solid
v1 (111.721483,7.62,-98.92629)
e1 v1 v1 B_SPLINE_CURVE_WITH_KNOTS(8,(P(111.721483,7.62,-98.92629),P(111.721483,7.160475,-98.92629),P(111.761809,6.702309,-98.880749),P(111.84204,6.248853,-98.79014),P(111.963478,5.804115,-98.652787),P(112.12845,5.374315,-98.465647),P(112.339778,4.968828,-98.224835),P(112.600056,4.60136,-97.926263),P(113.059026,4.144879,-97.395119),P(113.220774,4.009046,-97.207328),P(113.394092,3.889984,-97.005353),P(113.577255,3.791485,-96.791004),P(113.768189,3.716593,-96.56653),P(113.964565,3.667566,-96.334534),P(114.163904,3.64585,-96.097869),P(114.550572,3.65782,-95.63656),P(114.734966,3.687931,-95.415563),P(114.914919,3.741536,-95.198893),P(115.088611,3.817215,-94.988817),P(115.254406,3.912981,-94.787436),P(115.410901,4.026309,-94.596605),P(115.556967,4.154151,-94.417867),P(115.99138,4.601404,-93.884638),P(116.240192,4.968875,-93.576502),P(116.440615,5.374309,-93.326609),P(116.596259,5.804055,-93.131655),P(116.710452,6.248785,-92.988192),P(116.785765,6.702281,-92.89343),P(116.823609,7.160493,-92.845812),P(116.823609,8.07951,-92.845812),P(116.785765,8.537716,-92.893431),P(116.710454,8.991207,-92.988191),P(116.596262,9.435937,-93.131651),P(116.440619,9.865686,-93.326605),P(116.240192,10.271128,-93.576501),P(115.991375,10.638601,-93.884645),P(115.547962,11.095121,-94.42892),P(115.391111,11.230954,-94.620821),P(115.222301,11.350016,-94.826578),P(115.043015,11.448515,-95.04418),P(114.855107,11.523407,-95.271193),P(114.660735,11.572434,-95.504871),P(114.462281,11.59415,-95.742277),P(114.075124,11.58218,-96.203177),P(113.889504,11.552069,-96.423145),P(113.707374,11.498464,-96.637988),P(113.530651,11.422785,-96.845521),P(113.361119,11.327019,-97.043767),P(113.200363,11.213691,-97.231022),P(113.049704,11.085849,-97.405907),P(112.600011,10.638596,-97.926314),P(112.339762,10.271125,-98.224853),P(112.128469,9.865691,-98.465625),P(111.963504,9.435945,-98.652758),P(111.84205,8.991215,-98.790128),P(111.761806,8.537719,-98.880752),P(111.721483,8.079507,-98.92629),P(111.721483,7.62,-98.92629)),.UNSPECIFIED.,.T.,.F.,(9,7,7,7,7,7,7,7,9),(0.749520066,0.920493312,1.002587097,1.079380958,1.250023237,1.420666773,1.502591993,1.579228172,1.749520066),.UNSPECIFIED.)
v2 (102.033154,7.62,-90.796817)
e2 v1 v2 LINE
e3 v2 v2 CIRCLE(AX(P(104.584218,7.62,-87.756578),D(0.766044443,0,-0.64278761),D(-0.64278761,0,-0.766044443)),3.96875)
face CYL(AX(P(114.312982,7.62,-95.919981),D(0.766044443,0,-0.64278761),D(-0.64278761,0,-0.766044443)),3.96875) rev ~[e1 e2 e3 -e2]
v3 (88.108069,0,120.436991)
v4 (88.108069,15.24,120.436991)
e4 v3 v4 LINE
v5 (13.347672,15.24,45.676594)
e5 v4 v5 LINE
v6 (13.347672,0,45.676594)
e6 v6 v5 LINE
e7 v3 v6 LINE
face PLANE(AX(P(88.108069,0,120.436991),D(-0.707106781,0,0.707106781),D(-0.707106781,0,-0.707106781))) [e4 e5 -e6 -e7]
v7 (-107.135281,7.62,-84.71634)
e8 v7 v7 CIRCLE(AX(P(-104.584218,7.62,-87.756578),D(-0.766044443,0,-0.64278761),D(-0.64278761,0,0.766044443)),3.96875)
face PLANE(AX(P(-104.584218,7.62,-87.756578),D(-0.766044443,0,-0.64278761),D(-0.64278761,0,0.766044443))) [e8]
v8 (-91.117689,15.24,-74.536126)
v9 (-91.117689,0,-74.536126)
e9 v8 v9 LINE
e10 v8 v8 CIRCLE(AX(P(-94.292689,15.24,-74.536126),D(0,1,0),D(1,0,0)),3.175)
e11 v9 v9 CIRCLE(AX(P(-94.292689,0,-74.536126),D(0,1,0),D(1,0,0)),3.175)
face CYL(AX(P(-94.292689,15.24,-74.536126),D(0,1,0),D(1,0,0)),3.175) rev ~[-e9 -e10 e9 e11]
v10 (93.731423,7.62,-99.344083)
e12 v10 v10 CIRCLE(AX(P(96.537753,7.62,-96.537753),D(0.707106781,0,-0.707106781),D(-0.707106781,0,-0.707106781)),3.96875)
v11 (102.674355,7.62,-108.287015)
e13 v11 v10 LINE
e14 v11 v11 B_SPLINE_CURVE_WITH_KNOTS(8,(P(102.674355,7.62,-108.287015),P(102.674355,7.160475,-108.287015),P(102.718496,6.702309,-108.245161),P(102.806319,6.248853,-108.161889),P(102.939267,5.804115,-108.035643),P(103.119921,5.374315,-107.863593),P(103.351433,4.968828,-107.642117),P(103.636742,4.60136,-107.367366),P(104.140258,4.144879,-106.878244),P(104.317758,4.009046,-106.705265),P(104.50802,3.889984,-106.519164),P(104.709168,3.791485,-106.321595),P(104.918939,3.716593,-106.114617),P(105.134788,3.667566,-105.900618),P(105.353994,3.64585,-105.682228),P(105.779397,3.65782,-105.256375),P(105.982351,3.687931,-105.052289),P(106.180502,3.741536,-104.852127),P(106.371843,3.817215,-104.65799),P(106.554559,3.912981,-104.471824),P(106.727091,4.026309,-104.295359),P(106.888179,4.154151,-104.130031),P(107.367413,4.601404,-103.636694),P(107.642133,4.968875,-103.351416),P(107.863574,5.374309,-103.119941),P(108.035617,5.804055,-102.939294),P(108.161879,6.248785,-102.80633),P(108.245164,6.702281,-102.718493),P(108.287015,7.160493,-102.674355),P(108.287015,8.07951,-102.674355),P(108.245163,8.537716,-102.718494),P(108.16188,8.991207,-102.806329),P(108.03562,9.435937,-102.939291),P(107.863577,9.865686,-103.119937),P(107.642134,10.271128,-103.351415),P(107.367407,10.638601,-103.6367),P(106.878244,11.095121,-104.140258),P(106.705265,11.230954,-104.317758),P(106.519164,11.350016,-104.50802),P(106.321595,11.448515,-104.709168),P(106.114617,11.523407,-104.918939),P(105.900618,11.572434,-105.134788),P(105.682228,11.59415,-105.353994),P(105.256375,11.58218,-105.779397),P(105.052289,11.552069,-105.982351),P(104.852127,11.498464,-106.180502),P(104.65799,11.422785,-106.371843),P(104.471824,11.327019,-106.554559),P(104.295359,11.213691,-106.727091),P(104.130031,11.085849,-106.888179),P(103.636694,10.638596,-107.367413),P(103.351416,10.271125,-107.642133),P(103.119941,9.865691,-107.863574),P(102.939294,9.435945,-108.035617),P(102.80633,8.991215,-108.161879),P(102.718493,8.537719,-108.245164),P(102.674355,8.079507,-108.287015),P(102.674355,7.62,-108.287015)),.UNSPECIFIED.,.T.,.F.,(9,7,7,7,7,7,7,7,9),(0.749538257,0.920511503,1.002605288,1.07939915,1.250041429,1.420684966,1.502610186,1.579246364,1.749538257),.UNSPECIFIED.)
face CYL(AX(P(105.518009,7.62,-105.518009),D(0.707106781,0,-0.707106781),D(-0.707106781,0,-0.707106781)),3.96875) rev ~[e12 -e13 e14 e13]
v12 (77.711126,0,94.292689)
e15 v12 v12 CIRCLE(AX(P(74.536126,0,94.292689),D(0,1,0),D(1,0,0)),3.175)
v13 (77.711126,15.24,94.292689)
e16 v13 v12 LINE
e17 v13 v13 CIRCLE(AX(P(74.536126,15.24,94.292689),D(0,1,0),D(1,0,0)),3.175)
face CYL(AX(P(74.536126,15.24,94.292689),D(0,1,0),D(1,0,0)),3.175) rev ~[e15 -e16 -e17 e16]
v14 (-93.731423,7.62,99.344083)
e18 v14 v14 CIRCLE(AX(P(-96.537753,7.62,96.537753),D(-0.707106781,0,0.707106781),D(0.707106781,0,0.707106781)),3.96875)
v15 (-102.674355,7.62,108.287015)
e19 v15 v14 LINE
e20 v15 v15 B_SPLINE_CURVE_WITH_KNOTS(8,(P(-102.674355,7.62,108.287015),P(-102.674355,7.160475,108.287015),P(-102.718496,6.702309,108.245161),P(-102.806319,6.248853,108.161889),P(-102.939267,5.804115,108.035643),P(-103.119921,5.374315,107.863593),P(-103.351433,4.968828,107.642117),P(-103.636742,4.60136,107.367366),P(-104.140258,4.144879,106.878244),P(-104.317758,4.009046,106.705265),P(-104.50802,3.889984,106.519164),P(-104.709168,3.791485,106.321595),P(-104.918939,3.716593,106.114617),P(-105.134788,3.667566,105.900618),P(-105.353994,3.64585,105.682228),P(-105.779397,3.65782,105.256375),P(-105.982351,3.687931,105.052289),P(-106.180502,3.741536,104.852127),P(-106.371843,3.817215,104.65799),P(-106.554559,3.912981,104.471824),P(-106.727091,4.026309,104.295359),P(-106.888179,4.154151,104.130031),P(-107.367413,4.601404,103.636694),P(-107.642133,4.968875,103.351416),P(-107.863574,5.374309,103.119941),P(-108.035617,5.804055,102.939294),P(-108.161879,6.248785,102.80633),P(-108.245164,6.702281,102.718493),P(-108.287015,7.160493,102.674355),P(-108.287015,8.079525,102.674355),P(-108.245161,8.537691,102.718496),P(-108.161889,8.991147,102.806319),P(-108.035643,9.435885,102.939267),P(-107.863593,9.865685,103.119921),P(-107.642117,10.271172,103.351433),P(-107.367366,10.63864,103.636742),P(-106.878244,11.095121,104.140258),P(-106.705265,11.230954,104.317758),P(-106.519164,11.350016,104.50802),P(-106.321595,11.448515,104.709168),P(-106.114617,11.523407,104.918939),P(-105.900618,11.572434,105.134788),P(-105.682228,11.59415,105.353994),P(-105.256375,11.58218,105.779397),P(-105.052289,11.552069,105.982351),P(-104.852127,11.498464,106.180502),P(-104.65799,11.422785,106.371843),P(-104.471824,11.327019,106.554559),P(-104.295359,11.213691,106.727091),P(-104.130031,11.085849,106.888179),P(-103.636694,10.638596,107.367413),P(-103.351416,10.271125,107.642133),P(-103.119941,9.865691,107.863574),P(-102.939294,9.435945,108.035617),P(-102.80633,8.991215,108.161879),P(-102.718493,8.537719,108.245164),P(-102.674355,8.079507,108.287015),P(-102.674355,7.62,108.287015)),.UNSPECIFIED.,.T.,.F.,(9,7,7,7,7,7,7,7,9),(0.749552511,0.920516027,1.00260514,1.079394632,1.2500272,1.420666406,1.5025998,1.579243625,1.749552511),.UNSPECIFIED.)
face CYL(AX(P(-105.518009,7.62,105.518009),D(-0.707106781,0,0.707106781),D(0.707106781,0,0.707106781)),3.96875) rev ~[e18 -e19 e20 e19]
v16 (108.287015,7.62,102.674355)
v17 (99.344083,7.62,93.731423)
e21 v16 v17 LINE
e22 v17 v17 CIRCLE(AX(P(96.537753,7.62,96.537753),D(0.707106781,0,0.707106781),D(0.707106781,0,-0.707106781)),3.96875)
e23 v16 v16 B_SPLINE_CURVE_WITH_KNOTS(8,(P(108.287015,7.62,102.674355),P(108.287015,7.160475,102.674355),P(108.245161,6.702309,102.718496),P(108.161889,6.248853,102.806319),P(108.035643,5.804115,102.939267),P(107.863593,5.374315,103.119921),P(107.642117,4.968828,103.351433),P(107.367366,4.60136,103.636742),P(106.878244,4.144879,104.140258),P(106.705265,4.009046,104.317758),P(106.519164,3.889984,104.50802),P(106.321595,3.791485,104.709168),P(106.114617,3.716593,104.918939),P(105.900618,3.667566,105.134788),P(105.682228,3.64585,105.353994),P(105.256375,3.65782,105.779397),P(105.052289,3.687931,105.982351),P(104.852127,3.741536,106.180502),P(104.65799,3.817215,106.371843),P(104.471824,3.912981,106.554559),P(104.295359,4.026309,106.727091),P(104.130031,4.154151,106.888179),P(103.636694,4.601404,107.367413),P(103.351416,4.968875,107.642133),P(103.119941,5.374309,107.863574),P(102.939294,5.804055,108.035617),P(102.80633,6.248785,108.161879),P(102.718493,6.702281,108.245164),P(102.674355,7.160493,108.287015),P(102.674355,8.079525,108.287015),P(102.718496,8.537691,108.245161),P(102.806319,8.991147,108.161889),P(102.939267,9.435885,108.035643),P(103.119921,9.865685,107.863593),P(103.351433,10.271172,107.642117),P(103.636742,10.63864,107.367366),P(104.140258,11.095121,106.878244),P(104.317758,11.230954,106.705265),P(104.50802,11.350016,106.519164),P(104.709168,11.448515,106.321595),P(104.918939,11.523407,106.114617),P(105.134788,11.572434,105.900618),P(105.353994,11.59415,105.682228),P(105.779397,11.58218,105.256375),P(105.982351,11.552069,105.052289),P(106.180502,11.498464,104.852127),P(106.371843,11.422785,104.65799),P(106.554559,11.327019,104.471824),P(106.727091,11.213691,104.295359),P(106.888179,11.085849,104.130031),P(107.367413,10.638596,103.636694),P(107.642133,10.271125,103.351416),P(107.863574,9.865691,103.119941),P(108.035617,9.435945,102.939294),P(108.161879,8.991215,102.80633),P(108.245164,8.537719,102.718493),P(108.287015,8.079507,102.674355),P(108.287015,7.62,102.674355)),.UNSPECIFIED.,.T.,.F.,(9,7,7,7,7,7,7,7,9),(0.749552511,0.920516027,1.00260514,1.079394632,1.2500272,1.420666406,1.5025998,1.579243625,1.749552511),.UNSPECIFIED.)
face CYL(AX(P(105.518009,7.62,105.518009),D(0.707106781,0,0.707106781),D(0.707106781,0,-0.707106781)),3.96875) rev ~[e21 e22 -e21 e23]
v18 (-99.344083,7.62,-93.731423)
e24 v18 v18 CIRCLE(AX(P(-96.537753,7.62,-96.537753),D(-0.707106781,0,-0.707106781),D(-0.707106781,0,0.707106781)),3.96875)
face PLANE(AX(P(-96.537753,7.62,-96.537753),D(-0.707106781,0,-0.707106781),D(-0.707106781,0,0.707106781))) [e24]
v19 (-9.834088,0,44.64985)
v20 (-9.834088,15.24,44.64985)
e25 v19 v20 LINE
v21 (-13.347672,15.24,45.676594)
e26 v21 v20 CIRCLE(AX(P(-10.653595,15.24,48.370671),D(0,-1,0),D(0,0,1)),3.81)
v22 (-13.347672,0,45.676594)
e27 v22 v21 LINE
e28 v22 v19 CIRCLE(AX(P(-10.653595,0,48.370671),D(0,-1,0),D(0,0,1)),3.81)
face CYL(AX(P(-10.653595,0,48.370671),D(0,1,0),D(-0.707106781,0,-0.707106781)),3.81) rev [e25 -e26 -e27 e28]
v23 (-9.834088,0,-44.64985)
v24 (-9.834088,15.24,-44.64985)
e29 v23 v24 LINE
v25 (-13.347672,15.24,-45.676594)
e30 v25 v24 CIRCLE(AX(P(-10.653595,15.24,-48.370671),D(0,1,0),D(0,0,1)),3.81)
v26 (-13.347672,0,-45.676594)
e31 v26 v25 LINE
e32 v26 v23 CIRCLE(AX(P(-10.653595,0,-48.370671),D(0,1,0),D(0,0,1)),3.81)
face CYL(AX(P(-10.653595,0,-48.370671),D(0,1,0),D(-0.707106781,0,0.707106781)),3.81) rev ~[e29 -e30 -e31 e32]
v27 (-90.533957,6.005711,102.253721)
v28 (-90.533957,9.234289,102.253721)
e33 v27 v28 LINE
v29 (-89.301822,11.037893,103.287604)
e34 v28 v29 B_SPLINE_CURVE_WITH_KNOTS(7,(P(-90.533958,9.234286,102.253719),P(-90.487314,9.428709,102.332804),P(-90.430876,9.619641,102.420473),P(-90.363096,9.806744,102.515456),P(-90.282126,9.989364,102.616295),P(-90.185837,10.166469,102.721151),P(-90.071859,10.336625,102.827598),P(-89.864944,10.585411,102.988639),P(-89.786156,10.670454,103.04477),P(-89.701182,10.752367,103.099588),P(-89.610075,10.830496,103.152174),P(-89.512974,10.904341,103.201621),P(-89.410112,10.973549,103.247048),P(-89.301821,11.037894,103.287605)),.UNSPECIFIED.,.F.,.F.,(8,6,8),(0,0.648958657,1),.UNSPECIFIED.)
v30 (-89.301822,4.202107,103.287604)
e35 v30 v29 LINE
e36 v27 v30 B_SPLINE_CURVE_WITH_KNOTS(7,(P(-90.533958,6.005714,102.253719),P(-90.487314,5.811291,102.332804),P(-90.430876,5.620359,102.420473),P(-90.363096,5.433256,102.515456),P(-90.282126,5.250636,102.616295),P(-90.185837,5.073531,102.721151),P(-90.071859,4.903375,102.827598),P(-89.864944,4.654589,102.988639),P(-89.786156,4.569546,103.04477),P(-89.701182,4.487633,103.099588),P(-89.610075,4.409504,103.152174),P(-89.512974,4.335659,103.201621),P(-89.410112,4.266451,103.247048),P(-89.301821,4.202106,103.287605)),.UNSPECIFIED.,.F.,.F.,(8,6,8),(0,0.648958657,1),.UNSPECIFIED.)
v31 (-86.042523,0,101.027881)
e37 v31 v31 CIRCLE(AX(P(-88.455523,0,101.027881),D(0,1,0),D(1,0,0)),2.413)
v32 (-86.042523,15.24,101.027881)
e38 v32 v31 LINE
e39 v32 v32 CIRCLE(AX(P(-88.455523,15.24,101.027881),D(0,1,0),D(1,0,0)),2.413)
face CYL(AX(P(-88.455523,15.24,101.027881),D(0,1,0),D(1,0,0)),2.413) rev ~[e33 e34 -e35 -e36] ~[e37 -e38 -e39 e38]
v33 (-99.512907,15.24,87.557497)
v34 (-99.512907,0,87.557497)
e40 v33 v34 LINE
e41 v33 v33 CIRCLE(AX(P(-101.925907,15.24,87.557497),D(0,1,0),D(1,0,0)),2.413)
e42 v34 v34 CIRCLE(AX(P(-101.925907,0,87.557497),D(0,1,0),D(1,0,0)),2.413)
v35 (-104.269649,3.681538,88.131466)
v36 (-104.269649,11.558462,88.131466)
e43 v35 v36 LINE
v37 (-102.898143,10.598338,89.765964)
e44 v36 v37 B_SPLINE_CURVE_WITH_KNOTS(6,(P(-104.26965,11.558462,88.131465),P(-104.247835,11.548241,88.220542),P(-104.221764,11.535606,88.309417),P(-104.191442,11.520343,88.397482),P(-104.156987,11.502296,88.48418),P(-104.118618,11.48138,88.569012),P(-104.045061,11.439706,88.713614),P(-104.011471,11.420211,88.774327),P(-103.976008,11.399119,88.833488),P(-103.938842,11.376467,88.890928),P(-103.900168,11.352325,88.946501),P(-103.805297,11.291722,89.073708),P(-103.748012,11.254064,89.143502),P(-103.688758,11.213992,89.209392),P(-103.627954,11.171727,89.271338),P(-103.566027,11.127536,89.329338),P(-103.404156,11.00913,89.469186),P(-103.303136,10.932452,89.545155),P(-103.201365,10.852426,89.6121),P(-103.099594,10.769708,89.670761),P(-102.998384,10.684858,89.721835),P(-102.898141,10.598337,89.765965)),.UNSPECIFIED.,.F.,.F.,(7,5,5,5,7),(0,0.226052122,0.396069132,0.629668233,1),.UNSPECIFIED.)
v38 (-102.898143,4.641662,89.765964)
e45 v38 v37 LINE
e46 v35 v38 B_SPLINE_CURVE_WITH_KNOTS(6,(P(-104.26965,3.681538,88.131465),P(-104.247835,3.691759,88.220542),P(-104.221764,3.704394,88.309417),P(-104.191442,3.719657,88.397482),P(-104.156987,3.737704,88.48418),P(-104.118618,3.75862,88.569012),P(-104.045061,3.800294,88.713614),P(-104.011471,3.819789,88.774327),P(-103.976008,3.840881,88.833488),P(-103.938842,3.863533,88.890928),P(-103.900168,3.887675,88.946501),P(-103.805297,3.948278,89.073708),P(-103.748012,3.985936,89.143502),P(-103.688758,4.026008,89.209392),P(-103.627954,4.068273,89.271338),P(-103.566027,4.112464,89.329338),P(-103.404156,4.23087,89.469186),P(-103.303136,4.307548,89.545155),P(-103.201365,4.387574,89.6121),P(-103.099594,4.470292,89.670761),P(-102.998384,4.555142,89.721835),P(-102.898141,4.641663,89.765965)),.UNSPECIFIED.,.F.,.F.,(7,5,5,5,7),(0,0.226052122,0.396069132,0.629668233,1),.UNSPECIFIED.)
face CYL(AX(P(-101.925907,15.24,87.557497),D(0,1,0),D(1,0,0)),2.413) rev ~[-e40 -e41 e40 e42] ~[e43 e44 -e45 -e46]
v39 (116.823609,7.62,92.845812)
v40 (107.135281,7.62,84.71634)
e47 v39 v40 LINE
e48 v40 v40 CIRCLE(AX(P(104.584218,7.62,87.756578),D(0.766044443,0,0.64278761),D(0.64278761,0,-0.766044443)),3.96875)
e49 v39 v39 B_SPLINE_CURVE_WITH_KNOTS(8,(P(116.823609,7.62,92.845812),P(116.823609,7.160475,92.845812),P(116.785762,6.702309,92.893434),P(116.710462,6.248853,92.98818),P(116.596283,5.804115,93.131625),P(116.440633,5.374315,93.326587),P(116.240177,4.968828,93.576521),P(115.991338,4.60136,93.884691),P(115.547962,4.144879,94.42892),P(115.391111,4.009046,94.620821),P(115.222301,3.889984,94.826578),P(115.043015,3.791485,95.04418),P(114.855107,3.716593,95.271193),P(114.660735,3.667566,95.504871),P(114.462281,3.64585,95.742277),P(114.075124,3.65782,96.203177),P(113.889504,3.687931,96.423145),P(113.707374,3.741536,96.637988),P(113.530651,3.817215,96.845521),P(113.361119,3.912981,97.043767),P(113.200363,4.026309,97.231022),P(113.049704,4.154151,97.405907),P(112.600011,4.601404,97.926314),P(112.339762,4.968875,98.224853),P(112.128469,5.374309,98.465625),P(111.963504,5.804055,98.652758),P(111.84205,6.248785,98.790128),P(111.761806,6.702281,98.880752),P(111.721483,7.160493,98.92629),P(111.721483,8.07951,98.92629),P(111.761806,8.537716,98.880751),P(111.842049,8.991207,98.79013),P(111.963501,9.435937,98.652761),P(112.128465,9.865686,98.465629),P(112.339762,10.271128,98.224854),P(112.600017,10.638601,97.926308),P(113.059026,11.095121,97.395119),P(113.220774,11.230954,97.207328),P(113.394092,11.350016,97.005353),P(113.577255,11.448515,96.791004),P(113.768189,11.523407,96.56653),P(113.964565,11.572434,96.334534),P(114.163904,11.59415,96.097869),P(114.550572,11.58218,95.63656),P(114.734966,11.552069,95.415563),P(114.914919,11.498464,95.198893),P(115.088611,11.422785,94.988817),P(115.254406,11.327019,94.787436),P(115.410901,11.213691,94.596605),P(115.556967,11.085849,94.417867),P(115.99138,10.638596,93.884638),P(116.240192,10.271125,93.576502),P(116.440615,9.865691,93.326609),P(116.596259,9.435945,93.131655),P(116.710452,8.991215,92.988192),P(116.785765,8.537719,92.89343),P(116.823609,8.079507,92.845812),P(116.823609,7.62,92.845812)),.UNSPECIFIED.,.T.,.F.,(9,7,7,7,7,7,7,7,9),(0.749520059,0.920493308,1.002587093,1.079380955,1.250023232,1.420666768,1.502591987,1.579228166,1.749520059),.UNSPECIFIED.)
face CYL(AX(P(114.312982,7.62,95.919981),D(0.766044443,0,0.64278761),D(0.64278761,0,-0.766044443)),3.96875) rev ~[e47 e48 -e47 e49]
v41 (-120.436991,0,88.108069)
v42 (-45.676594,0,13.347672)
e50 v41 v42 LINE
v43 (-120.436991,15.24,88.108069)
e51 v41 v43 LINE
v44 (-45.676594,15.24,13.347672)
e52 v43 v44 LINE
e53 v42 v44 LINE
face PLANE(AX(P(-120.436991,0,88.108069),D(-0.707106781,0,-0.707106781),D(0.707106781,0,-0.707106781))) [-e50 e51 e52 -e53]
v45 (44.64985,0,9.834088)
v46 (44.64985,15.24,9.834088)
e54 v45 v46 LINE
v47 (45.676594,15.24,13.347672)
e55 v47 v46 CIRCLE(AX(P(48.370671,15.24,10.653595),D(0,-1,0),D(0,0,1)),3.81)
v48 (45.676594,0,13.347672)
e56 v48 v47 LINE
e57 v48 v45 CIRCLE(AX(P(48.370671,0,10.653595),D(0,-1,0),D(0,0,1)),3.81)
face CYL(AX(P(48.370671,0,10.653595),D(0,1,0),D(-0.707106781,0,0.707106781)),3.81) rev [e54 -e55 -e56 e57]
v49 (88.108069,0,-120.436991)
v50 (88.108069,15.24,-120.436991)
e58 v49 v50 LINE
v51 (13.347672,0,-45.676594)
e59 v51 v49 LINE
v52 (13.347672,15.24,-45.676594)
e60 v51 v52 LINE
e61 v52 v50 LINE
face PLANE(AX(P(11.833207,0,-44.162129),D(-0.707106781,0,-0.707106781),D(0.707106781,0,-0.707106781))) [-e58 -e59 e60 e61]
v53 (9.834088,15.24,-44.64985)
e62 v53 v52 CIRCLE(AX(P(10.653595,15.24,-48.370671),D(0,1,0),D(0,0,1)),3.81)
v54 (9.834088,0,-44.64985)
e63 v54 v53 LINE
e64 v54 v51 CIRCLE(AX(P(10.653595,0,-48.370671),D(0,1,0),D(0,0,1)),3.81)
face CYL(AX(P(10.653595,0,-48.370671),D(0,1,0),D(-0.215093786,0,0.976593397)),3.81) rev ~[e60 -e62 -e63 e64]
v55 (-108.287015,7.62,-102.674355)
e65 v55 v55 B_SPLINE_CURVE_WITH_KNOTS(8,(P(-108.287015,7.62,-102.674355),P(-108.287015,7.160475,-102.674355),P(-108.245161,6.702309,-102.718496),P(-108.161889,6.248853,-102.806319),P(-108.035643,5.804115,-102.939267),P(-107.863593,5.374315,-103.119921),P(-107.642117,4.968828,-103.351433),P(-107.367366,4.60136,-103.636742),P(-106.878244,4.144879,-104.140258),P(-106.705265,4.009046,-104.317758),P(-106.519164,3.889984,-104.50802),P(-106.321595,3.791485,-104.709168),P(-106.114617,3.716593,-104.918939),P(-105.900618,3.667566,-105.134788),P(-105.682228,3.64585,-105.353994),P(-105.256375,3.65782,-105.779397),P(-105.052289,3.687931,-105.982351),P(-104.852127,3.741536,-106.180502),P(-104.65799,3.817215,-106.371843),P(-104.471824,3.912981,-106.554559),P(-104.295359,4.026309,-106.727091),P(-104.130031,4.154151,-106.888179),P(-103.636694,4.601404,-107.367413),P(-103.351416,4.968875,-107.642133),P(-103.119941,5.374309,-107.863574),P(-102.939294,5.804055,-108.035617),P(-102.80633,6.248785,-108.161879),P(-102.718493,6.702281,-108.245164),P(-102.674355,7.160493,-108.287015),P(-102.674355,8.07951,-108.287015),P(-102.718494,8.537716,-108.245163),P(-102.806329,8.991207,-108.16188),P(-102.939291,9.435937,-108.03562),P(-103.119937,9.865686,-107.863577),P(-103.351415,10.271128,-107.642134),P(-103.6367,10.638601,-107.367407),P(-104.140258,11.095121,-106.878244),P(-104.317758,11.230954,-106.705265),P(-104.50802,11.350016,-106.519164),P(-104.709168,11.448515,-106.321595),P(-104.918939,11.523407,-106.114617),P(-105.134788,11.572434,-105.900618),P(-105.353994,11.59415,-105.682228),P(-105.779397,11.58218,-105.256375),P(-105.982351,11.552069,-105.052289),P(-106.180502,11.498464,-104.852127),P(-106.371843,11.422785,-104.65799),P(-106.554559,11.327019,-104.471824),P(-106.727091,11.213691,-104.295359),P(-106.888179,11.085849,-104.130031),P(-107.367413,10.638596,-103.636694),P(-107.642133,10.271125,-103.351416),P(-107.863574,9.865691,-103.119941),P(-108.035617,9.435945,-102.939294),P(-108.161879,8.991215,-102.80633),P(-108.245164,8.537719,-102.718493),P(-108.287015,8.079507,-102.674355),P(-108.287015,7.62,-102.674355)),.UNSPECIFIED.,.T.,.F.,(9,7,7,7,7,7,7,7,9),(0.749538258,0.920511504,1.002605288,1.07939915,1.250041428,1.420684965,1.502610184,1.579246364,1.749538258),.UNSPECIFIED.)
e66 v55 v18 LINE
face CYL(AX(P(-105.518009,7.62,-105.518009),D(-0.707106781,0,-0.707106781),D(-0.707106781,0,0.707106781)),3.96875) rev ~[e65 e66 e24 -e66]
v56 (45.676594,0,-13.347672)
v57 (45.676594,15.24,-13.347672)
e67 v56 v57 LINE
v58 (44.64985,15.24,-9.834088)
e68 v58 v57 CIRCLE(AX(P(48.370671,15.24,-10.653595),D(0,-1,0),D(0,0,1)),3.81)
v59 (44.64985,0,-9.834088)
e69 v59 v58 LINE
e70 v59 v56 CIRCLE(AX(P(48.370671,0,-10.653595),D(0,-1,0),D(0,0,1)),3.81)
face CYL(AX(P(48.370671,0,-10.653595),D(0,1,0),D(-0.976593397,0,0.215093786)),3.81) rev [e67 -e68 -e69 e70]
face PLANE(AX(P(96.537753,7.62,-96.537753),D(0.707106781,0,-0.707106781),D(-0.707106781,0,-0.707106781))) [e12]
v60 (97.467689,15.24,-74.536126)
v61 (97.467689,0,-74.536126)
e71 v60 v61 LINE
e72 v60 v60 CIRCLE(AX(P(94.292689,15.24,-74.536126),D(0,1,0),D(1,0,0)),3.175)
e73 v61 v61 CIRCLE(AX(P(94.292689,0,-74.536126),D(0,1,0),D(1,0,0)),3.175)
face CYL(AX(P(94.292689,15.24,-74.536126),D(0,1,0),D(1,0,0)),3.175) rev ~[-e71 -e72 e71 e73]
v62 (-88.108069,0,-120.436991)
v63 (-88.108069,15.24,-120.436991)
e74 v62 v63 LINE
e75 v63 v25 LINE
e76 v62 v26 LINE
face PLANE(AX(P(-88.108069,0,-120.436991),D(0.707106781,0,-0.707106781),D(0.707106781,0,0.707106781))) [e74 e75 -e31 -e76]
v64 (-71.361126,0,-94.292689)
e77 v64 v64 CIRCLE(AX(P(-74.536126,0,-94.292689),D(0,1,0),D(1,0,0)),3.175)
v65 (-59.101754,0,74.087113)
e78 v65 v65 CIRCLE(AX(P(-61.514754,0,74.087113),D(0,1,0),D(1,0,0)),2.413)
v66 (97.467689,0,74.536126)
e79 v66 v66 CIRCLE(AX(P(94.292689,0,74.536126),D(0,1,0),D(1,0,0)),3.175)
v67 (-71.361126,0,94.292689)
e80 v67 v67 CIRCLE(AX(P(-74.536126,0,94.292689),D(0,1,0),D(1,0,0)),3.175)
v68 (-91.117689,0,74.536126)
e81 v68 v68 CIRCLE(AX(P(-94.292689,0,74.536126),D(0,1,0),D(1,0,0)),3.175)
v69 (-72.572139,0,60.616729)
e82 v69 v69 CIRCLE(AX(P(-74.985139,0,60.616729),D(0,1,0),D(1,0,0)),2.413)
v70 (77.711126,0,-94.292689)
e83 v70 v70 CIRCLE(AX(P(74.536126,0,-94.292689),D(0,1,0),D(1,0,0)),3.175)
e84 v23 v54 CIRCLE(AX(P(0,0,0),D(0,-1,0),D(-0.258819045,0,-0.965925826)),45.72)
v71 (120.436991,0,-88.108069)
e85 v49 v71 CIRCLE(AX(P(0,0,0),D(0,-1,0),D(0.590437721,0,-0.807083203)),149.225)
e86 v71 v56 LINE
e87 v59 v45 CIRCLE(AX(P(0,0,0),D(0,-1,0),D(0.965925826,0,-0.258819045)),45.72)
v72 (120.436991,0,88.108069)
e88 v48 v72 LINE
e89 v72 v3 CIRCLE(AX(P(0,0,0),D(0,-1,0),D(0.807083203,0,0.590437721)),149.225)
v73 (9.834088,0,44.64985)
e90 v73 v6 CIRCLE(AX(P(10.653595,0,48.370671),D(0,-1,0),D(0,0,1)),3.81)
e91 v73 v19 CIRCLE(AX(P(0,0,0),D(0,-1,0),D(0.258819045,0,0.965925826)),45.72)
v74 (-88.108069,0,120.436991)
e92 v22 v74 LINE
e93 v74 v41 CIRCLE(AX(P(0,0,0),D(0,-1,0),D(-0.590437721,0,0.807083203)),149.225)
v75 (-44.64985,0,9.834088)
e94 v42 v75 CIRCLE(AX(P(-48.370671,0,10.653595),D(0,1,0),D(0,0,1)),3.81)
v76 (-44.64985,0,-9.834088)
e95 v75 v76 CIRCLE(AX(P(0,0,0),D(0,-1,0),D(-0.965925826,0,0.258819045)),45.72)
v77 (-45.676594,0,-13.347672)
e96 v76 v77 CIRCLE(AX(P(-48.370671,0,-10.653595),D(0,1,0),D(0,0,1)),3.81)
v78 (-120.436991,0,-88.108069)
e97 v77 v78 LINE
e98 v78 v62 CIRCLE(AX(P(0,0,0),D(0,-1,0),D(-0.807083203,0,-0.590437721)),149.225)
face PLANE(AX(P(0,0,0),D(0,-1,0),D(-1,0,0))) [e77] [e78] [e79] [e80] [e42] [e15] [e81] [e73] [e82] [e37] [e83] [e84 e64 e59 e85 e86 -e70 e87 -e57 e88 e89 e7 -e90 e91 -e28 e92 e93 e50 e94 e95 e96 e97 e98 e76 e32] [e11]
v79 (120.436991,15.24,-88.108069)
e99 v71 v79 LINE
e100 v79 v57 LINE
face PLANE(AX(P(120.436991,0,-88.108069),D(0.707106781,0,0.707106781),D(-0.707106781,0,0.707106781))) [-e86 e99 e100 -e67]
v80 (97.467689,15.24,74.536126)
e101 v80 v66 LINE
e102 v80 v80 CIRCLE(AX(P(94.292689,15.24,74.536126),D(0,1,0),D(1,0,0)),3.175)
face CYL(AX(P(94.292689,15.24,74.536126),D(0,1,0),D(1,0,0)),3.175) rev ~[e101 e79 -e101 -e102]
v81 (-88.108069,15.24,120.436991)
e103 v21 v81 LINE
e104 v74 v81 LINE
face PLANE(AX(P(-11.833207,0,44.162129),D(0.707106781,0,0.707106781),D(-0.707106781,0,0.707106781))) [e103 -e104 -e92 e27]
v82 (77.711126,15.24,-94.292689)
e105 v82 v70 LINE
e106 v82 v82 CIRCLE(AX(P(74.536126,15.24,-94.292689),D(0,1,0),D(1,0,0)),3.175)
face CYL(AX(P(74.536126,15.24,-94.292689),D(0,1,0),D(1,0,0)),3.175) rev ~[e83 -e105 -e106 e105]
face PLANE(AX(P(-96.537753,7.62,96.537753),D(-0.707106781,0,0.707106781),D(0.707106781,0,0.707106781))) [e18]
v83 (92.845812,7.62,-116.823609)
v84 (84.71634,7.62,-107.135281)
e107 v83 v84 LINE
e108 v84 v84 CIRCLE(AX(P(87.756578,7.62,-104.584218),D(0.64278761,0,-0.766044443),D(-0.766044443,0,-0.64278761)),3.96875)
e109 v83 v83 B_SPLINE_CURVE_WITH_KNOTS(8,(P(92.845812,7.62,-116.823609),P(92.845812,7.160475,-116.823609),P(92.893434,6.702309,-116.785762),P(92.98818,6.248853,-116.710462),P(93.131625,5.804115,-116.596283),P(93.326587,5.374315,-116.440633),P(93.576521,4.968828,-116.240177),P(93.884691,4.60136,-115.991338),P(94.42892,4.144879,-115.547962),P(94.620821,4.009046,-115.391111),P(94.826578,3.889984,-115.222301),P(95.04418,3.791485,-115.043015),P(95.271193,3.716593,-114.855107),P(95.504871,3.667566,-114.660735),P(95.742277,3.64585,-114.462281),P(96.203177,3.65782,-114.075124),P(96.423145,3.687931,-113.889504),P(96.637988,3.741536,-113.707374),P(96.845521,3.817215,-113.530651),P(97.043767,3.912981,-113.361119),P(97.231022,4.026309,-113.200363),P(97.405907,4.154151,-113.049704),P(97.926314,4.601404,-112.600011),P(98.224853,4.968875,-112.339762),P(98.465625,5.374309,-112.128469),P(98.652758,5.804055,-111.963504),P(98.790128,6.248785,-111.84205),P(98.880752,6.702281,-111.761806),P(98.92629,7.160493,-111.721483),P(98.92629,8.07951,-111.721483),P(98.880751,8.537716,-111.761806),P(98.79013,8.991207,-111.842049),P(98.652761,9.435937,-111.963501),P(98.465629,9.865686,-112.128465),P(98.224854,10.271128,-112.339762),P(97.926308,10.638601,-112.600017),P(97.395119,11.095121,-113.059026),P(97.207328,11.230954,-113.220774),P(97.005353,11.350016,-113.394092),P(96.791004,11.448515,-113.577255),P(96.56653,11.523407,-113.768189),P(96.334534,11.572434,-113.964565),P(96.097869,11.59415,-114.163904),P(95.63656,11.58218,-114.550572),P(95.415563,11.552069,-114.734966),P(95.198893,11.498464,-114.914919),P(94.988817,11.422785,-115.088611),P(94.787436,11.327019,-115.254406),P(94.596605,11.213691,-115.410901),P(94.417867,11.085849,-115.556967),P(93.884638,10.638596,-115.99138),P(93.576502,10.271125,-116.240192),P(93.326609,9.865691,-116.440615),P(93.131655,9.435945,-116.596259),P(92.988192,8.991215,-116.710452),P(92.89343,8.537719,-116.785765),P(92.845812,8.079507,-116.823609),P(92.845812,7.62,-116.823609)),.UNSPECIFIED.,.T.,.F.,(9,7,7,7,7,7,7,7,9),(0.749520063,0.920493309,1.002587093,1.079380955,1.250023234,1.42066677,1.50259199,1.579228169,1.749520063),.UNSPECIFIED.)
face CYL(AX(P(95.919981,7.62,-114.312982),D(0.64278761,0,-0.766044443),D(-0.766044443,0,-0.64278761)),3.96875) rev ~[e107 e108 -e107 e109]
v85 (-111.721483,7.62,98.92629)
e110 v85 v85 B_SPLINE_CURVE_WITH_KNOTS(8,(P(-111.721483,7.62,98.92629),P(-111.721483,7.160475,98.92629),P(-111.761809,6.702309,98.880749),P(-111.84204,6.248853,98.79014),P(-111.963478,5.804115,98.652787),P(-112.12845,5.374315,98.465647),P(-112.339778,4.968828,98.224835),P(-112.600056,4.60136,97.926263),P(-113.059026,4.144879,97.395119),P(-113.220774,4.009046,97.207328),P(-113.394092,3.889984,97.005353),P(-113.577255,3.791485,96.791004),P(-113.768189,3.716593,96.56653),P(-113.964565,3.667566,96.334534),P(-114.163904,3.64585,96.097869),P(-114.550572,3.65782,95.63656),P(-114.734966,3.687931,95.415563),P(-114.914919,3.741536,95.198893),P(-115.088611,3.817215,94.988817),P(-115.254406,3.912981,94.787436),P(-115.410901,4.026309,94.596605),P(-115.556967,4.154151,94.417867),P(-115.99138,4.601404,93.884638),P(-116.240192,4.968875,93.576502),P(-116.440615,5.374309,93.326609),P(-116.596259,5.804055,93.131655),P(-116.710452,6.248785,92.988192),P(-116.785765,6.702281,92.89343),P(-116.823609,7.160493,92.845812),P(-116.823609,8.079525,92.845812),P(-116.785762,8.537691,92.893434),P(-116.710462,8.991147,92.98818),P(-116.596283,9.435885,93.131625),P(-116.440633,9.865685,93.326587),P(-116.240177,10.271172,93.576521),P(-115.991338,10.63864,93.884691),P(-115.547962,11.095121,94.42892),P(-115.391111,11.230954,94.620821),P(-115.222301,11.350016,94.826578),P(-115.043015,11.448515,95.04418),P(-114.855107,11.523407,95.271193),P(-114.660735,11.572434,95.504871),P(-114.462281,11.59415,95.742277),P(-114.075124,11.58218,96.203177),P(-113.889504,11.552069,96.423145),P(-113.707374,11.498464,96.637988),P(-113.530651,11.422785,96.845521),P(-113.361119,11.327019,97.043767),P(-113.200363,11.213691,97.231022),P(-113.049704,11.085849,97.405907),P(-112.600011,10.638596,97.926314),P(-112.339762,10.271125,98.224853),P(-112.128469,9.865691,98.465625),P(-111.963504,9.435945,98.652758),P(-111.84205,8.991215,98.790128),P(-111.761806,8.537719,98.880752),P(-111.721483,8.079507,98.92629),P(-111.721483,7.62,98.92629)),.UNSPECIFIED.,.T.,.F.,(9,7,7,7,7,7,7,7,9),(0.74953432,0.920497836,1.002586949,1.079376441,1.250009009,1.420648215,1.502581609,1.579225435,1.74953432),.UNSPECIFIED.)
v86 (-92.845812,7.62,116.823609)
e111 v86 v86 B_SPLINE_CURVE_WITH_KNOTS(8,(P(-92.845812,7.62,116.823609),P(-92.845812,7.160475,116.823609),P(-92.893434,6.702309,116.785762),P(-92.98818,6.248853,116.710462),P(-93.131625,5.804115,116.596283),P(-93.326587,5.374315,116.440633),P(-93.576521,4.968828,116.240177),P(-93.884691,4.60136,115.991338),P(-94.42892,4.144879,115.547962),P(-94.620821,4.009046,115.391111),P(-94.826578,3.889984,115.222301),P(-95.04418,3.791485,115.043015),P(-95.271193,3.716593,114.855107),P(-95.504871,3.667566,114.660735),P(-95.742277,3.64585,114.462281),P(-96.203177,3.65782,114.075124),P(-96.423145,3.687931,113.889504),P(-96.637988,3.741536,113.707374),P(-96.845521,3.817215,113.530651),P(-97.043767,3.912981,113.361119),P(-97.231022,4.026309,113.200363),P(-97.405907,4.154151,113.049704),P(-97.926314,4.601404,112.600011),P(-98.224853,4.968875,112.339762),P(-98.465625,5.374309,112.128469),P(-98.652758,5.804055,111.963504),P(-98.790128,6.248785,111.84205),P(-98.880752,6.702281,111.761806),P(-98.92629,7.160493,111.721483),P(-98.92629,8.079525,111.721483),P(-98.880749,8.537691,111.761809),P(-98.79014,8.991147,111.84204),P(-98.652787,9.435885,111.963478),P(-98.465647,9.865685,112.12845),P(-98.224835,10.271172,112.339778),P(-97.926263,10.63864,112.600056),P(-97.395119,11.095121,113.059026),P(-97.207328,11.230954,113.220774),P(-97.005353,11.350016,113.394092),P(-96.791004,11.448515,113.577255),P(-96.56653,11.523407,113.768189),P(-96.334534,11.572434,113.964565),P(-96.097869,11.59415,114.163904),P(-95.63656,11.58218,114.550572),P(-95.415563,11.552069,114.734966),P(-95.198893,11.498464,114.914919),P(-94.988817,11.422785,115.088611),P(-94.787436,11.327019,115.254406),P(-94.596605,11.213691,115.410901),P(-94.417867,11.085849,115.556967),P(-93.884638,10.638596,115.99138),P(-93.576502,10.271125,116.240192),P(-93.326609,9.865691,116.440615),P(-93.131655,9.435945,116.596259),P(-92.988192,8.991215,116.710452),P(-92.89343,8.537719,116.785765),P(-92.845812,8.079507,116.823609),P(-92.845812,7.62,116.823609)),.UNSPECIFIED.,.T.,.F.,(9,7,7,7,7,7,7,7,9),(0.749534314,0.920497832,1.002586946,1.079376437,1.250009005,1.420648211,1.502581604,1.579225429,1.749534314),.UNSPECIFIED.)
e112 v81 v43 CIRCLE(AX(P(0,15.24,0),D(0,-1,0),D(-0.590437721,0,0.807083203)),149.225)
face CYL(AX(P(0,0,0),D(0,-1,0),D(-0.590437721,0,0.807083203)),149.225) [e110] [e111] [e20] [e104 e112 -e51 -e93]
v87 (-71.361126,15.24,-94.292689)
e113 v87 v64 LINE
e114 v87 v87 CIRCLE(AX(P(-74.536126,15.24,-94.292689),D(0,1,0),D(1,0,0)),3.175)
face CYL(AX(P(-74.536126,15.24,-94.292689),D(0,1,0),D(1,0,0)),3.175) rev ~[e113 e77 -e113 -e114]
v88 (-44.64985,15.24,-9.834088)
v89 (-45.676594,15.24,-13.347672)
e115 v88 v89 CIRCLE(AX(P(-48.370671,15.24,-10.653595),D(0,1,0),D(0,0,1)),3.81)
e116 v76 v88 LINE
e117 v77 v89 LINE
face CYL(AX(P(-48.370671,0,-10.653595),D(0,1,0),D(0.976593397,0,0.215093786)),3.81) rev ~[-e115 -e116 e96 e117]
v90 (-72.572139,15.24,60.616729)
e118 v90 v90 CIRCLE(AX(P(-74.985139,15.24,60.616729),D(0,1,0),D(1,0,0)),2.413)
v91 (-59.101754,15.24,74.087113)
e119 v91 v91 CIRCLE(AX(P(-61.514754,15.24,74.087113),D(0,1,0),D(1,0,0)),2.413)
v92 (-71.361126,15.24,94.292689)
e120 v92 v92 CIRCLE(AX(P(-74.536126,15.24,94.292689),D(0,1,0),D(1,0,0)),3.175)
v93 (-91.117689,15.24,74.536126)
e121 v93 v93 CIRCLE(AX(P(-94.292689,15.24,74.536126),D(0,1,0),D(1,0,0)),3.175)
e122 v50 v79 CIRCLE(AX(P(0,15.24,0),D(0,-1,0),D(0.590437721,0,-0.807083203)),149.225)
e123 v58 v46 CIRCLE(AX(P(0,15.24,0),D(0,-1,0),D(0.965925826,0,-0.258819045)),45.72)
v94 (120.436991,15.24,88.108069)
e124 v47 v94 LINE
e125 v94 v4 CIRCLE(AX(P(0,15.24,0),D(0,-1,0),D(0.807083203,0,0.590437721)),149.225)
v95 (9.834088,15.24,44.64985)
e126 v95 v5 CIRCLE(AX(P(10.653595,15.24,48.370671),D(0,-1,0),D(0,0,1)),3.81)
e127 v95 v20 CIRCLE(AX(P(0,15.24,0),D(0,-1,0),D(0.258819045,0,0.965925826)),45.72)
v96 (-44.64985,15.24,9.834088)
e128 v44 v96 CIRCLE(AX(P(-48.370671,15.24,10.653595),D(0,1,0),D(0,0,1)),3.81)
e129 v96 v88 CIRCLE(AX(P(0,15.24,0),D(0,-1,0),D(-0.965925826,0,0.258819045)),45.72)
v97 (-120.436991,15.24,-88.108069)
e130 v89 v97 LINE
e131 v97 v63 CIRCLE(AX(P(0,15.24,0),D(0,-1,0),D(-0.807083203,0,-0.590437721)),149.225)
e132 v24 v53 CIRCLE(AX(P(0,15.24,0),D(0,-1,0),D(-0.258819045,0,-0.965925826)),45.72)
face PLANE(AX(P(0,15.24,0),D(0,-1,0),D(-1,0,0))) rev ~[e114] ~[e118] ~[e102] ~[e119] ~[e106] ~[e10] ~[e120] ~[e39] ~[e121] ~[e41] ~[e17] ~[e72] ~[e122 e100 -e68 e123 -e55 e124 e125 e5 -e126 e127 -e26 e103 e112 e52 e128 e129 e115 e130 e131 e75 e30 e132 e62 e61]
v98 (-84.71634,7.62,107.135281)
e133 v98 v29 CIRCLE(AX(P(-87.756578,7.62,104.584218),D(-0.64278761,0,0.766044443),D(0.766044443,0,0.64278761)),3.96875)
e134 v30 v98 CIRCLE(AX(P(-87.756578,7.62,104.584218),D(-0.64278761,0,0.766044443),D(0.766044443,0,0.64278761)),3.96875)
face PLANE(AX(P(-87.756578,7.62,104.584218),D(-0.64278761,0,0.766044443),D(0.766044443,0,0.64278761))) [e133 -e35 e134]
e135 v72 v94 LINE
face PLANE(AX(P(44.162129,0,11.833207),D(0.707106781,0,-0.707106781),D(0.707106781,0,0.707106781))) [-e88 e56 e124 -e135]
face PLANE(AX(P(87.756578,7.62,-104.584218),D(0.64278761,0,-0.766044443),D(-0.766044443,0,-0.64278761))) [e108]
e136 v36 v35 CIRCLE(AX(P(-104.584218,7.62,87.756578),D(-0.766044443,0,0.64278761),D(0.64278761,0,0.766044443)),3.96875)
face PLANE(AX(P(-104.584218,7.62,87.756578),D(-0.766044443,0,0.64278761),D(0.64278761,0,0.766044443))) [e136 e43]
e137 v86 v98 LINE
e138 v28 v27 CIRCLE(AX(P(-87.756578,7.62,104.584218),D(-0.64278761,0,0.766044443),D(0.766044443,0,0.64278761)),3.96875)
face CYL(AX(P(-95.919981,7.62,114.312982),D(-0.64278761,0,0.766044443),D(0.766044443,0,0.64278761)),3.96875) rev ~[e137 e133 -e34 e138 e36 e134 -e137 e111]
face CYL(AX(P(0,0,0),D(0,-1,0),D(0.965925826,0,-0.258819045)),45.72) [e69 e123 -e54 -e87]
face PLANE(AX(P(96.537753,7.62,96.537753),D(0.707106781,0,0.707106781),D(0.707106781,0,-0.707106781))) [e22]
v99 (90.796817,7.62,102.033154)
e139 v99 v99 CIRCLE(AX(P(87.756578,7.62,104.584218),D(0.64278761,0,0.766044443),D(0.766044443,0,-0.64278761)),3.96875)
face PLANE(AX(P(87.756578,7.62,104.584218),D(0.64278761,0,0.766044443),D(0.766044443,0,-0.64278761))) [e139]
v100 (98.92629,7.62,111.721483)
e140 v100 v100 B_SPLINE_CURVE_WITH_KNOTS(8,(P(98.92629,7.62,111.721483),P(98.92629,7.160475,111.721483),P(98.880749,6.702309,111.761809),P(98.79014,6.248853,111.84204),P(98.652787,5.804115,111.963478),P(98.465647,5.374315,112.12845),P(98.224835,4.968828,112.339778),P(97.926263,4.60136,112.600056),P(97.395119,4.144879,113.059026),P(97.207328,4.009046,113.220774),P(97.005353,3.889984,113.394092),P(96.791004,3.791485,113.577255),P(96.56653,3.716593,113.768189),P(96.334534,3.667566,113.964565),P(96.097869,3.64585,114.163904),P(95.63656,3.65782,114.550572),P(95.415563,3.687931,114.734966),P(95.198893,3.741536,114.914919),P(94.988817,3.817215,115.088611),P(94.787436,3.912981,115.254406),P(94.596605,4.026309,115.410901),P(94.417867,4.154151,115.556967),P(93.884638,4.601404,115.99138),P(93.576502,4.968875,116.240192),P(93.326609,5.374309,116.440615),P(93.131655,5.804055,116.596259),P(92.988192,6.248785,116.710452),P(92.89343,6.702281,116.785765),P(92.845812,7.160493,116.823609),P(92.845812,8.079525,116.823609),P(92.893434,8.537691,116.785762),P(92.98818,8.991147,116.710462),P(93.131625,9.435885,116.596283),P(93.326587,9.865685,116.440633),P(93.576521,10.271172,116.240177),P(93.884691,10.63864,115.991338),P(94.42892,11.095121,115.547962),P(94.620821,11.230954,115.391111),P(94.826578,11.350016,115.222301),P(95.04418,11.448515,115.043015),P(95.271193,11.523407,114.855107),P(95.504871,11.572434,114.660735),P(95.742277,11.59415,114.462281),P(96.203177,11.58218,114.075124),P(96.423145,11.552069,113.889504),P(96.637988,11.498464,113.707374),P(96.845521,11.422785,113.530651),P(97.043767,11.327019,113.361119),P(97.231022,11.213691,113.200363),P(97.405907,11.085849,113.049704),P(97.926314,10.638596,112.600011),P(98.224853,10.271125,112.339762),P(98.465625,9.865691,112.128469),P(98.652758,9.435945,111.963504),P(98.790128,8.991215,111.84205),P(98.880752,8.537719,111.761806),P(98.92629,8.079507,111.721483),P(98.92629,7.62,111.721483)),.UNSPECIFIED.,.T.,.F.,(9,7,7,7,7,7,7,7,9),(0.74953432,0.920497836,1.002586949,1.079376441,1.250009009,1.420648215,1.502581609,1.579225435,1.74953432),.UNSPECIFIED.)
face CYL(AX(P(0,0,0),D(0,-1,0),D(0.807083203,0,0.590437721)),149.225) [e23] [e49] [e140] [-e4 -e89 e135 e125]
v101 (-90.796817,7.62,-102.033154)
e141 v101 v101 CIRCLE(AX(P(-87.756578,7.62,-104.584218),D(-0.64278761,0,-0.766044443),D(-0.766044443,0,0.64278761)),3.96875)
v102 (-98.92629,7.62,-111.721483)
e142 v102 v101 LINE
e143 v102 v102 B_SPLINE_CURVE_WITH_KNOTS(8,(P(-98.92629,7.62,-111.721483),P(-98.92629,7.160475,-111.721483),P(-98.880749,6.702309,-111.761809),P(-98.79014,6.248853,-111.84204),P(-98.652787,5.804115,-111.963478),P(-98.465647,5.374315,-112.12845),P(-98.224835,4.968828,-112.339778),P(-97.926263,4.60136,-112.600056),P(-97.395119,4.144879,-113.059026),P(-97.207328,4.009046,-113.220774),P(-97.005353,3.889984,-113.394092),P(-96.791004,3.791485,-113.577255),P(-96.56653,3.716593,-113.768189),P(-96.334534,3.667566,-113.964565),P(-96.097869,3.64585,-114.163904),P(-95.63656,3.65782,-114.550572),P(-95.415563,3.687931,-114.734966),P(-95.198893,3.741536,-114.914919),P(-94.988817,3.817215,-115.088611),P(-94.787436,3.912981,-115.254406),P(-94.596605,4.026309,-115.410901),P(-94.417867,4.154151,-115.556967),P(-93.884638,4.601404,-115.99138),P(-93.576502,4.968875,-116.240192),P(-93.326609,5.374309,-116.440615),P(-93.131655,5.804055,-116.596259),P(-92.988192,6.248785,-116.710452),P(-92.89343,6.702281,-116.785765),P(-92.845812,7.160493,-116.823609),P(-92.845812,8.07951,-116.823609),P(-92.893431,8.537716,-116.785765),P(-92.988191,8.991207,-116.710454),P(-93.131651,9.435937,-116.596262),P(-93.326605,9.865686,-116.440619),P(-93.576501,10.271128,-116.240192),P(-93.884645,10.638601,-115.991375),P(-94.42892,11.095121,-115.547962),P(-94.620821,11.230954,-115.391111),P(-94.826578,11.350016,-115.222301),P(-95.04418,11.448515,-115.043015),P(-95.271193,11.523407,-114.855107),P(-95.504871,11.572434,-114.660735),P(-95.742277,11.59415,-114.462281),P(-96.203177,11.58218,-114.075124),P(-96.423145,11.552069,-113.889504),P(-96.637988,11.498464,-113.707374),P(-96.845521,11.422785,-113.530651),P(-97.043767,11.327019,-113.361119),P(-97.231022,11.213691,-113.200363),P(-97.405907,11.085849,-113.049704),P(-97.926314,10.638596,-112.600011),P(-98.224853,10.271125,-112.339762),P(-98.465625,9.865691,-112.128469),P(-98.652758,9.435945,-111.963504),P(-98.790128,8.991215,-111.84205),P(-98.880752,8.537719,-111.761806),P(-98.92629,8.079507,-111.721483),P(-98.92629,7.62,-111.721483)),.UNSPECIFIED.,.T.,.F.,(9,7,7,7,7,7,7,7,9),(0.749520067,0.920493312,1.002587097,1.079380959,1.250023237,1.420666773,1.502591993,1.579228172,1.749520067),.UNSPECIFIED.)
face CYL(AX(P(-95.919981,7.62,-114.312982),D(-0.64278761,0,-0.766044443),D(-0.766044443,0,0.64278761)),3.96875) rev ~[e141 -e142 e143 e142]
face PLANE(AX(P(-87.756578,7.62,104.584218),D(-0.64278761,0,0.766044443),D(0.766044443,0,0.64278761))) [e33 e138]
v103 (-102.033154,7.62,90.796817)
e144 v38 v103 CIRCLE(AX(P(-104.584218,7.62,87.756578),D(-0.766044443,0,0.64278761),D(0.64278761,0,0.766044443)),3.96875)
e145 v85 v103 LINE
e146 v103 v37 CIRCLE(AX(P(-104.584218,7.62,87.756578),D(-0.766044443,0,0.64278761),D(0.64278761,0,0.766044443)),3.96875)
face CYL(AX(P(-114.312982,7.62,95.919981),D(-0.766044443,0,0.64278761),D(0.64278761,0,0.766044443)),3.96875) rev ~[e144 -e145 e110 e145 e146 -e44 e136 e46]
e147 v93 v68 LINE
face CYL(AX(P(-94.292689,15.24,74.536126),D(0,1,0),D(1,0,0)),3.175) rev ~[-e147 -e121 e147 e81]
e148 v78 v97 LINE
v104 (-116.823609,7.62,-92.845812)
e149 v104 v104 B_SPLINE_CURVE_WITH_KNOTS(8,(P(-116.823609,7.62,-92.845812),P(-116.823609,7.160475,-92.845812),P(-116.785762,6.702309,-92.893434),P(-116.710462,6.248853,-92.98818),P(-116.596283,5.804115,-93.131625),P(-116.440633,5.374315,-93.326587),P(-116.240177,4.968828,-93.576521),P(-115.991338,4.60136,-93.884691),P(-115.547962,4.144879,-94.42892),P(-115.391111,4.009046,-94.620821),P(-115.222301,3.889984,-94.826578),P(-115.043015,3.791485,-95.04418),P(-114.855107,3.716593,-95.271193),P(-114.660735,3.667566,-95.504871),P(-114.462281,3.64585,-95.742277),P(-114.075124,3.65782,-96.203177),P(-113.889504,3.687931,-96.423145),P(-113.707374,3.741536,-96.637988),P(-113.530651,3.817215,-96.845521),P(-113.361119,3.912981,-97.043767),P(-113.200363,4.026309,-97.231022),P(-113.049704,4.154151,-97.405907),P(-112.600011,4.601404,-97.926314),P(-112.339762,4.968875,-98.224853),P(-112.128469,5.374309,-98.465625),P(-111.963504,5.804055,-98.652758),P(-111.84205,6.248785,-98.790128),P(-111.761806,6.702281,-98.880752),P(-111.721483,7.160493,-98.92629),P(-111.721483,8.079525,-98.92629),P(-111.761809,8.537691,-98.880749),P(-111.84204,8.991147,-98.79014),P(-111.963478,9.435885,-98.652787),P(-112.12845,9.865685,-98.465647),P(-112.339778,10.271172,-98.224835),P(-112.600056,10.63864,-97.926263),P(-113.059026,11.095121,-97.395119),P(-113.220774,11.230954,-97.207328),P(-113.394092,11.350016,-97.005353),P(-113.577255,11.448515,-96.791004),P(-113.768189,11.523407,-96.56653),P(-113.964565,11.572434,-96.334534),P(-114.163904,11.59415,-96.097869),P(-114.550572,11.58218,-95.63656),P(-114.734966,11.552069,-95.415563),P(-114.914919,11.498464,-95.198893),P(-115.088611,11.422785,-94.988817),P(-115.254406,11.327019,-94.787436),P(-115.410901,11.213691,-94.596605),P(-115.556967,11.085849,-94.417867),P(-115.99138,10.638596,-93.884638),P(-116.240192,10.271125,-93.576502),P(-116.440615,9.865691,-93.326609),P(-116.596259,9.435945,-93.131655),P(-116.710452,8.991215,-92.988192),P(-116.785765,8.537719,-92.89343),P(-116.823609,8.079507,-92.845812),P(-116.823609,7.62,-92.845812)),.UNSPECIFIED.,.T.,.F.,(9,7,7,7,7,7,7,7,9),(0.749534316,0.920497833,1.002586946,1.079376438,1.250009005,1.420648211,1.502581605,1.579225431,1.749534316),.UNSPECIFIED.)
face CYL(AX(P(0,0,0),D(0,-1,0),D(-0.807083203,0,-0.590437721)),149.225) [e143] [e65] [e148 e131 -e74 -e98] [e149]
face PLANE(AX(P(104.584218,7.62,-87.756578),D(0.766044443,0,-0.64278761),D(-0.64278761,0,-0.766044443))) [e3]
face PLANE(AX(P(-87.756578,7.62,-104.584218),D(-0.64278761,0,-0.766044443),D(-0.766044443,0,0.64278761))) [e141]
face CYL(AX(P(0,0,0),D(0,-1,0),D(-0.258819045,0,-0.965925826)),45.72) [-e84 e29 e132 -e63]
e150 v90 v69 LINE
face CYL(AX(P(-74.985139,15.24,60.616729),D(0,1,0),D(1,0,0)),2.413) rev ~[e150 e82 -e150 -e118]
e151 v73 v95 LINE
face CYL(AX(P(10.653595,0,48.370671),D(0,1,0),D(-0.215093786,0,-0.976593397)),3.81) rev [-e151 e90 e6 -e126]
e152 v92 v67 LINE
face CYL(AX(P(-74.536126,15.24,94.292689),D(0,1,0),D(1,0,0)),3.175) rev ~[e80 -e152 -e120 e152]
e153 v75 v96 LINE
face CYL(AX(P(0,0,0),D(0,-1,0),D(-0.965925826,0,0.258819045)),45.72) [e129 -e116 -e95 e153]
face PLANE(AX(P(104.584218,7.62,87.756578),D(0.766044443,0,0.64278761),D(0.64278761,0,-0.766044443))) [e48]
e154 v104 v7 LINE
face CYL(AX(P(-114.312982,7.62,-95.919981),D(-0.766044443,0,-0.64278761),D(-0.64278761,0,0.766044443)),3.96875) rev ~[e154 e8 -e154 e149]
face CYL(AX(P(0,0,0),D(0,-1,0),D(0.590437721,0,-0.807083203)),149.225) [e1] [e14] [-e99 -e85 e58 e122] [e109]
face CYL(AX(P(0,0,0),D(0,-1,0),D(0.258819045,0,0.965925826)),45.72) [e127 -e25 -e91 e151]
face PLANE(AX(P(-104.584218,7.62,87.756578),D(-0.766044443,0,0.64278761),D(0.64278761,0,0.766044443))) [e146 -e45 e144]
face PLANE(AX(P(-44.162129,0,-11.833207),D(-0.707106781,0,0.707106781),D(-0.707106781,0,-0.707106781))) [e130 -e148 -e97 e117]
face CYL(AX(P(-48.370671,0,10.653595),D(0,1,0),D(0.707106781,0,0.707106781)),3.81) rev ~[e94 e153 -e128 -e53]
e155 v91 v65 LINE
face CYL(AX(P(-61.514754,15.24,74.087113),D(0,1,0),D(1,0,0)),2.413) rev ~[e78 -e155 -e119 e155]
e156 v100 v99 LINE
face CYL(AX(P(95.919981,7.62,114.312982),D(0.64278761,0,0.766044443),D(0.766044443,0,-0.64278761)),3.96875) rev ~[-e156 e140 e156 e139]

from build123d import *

# Parameters (mm, degrees)
BOSS_EXTRUDE3_DEPTH = 15.24
SKETCH6_R           = 3.175
CUT_EXTRUDE2_DEPTH  = 16.24
CUT_EXTRUDE6_REACH  = 17.24
SKETCH53_R          = 2.413
FILLET1_R           = 3.81
SKETCH57_R          = 3.96875
CUT_EXTRUDE8_DEPTH  = 12.7
SKETCH55_R          = 3.96875
CUT_EXTRUDE9_DEPTH  = 12.7
CIRPATTERN2_COUNT   = 4
SKETCH58_R          = 3.96875
CUT_EXTRUDE10_DEPTH = 12.7
CIRPATTERN3_COUNT   = 4


with BuildPart() as part:
    # Sketch5 → Boss-Extrude3 (new body)
    with BuildSketch(Plane(origin=(0, 0, 0), x_dir=(1, 0, 0), z_dir=(0, 1, 0))):
        with BuildLine():
            Line((-11.833206742, -44.162128778), (-88.108068982, -120.436991017))
            ThreePointArc((-88.108068982, -120.436991017), (-105.518009423, -105.518009423), (-120.436991017, -88.108068982))
            Line((-120.436991017, -88.108068982), (-44.162128778, -11.833206742))
            ThreePointArc((-44.162128778, -11.833206742), (-45.72, 0), (-44.162128778, 11.833206742))
            Line((-44.162128778, 11.833206742), (-120.436991017, 88.108068982))
            ThreePointArc((-120.436991017, 88.108068982), (-105.518009423, 105.518009423), (-88.108068982, 120.436991017))
            Line((-88.108068982, 120.436991017), (-11.833206742, 44.162128778))
            ThreePointArc((-11.833206742, 44.162128778), (0, 45.72), (11.833206742, 44.162128778))
            Line((11.833206742, 44.162128778), (88.108068982, 120.436991017))
            ThreePointArc((88.108068982, 120.436991017), (105.518009423, 105.518009423), (120.436991017, 88.108068982))
            Line((120.436991017, 88.108068982), (44.162128778, 11.833206742))
            ThreePointArc((44.162128778, 11.833206742), (45.72, 0), (44.162128778, -11.833206742))
            Line((44.162128778, -11.833206742), (120.436991017, -88.108068982))
            ThreePointArc((120.436991017, -88.108068982), (105.518009423, -105.518009423), (88.108068982, -120.436991017))
            Line((88.108068982, -120.436991017), (11.833206742, -44.162128778))
            ThreePointArc((11.833206742, -44.162128778), (0, -45.72), (-11.833206742, -44.162128778))
        make_face()
    extrude(amount=BOSS_EXTRUDE3_DEPTH)

    # Sketch6 → Cut-Extrude2 (cut, through all)
    with BuildSketch(Plane(origin=(0, 15.24, 0), x_dir=(1, 0, 0), z_dir=(0, 1, 0))):
        with Locations((-74.536125805, -94.292689271)):
            Circle(SKETCH6_R)
        with Locations((-94.292689271, -74.536125805)):
            Circle(SKETCH6_R)
        with Locations((94.292689271, -74.536125805)):
            Circle(SKETCH6_R)
        with Locations((74.536125805, -94.292689271)):
            Circle(SKETCH6_R)
        with Locations((94.292689271, 74.536125805)):
            Circle(SKETCH6_R)
        with Locations((74.536125805, 94.292689271)):
            Circle(SKETCH6_R)
        with Locations((-94.292689271, 74.536125805)):
            Circle(SKETCH6_R)
        with Locations((-74.536125805, 94.292689271)):
            Circle(SKETCH6_R)
    extrude(amount=-CUT_EXTRUDE2_DEPTH, mode=Mode.SUBTRACT)

    # Sketch53 → Cut-Extrude6 (cut, up to next)
    with BuildSketch(Plane(origin=(0, 15.24, 0), x_dir=(1, 0, 0), z_dir=(0, 1, 0)), mode=Mode.PRIVATE) as cut_extrude6_sk1:
        with Locations((-88.455522793, -101.027881362)):
            Circle(SKETCH53_R)
    cut_extrude6_tool1 = extrude(cut_extrude6_sk1.sketch, amount=-CUT_EXTRUDE6_REACH, mode=Mode.PRIVATE) & part.part
    add(cut_extrude6_tool1.solids().sort_by_distance((-88.455523, 15.24, 101.027881))[0], mode=Mode.SUBTRACT)
    # Sketch53 → Cut-Extrude6 (cut, up to next)
    with BuildSketch(Plane(origin=(0, 15.24, 0), x_dir=(1, 0, 0), z_dir=(0, 1, 0)), mode=Mode.PRIVATE) as cut_extrude6_sk2:
        with Locations((-61.514754429, -74.087112999)):
            Circle(SKETCH53_R)
    cut_extrude6_tool2 = extrude(cut_extrude6_sk2.sketch, amount=-CUT_EXTRUDE6_REACH, mode=Mode.PRIVATE) & part.part
    add(cut_extrude6_tool2.solids().sort_by_distance((-61.514754, 15.24, 74.087113))[0], mode=Mode.SUBTRACT)
    # Sketch53 → Cut-Extrude6 (cut, up to next)
    with BuildSketch(Plane(origin=(0, 15.24, 0), x_dir=(1, 0, 0), z_dir=(0, 1, 0)), mode=Mode.PRIVATE) as cut_extrude6_sk3:
        with Locations((-101.925906974, -87.55749718)):
            Circle(SKETCH53_R)
    cut_extrude6_tool3 = extrude(cut_extrude6_sk3.sketch, amount=-CUT_EXTRUDE6_REACH, mode=Mode.PRIVATE) & part.part
    add(cut_extrude6_tool3.solids().sort_by_distance((-101.925907, 15.24, 87.557497))[0], mode=Mode.SUBTRACT)
    # Sketch53 → Cut-Extrude6 (cut, up to next)
    with BuildSketch(Plane(origin=(0, 15.24, 0), x_dir=(1, 0, 0), z_dir=(0, 1, 0)), mode=Mode.PRIVATE) as cut_extrude6_sk4:
        with Locations((-74.985138611, -60.616728817)):
            Circle(SKETCH53_R)
    cut_extrude6_tool4 = extrude(cut_extrude6_sk4.sketch, amount=-CUT_EXTRUDE6_REACH, mode=Mode.PRIVATE) & part.part
    add(cut_extrude6_tool4.solids().sort_by_distance((-74.985139, 15.24, 60.616729))[0], mode=Mode.SUBTRACT)

    # Fillet1
    fillet1_edges = [part.edges().sort_by_distance(p)[0] for p in [
        (-44.162128778, 7.62, 11.833206742),
        (-44.162128778, 7.62, -11.833206742),
        (-11.833206742, 7.62, -44.162128778),
        (11.833206742, 7.62, -44.162128778),
        (44.162128778, 7.62, -11.833206742),
        (44.162128778, 7.62, 11.833206742),
        (11.833206742, 7.62, 44.162128778),
        (-11.833206742, 7.62, 44.162128778),
    ]]
    fillet(fillet1_edges, radius=FILLET1_R)

    # Sketch57 → Cut-Extrude8 (cut)
    with BuildSketch(Plane(origin=(-114.312982024, 0, 95.919981055), x_dir=(0.64278761, 0, 0.766044443), z_dir=(-0.766044443, 0, 0.64278761))):
        with Locations((0, 7.62)):
            Circle(SKETCH57_R)
    cut_extrude8 = extrude(amount=-CUT_EXTRUDE8_DEPTH, mode=Mode.SUBTRACT)

    # Sketch55 → Cut-Extrude9 (cut)
    with BuildSketch(Plane(origin=(-95.919981055, 0, 114.312982024), x_dir=(0.766044443, 0, 0.64278761), z_dir=(-0.64278761, 0, 0.766044443))):
        with Locations((0, 7.62)):
            Circle(SKETCH55_R)
    cut_extrude9 = extrude(amount=-CUT_EXTRUDE9_DEPTH, mode=Mode.SUBTRACT)

    # CirPattern2: Cut-Extrude8, Cut-Extrude9 ×4 about axis
    cirpattern2_axis = Axis((0, 0, 0), (0, 1, 0))
    for i in range(1, CIRPATTERN2_COUNT):
        add(cut_extrude8.rotate(cirpattern2_axis, i * 360 / CIRPATTERN2_COUNT), mode=Mode.SUBTRACT)
        add(cut_extrude9.rotate(cirpattern2_axis, i * 360 / CIRPATTERN2_COUNT), mode=Mode.SUBTRACT)

    # Sketch58 → Cut-Extrude10 (cut)
    with BuildSketch(Plane(origin=(-105.518009423, 0, 105.518009423), x_dir=(0.707106781, 0, 0.707106781), z_dir=(-0.707106781, 0, 0.707106781))):
        with Locations((0, 7.62)):
            Circle(SKETCH58_R)
    cut_extrude10 = extrude(amount=-CUT_EXTRUDE10_DEPTH, mode=Mode.SUBTRACT)

    # CirPattern3: Cut-Extrude10 ×4 about axis
    cirpattern3_axis = Axis((0, 0, 0), (0, 1, 0))
    for i in range(1, CIRPATTERN3_COUNT):
        add(cut_extrude10.rotate(cirpattern3_axis, i * 360 / CIRPATTERN3_COUNT), mode=Mode.SUBTRACT)


solid = part.part
